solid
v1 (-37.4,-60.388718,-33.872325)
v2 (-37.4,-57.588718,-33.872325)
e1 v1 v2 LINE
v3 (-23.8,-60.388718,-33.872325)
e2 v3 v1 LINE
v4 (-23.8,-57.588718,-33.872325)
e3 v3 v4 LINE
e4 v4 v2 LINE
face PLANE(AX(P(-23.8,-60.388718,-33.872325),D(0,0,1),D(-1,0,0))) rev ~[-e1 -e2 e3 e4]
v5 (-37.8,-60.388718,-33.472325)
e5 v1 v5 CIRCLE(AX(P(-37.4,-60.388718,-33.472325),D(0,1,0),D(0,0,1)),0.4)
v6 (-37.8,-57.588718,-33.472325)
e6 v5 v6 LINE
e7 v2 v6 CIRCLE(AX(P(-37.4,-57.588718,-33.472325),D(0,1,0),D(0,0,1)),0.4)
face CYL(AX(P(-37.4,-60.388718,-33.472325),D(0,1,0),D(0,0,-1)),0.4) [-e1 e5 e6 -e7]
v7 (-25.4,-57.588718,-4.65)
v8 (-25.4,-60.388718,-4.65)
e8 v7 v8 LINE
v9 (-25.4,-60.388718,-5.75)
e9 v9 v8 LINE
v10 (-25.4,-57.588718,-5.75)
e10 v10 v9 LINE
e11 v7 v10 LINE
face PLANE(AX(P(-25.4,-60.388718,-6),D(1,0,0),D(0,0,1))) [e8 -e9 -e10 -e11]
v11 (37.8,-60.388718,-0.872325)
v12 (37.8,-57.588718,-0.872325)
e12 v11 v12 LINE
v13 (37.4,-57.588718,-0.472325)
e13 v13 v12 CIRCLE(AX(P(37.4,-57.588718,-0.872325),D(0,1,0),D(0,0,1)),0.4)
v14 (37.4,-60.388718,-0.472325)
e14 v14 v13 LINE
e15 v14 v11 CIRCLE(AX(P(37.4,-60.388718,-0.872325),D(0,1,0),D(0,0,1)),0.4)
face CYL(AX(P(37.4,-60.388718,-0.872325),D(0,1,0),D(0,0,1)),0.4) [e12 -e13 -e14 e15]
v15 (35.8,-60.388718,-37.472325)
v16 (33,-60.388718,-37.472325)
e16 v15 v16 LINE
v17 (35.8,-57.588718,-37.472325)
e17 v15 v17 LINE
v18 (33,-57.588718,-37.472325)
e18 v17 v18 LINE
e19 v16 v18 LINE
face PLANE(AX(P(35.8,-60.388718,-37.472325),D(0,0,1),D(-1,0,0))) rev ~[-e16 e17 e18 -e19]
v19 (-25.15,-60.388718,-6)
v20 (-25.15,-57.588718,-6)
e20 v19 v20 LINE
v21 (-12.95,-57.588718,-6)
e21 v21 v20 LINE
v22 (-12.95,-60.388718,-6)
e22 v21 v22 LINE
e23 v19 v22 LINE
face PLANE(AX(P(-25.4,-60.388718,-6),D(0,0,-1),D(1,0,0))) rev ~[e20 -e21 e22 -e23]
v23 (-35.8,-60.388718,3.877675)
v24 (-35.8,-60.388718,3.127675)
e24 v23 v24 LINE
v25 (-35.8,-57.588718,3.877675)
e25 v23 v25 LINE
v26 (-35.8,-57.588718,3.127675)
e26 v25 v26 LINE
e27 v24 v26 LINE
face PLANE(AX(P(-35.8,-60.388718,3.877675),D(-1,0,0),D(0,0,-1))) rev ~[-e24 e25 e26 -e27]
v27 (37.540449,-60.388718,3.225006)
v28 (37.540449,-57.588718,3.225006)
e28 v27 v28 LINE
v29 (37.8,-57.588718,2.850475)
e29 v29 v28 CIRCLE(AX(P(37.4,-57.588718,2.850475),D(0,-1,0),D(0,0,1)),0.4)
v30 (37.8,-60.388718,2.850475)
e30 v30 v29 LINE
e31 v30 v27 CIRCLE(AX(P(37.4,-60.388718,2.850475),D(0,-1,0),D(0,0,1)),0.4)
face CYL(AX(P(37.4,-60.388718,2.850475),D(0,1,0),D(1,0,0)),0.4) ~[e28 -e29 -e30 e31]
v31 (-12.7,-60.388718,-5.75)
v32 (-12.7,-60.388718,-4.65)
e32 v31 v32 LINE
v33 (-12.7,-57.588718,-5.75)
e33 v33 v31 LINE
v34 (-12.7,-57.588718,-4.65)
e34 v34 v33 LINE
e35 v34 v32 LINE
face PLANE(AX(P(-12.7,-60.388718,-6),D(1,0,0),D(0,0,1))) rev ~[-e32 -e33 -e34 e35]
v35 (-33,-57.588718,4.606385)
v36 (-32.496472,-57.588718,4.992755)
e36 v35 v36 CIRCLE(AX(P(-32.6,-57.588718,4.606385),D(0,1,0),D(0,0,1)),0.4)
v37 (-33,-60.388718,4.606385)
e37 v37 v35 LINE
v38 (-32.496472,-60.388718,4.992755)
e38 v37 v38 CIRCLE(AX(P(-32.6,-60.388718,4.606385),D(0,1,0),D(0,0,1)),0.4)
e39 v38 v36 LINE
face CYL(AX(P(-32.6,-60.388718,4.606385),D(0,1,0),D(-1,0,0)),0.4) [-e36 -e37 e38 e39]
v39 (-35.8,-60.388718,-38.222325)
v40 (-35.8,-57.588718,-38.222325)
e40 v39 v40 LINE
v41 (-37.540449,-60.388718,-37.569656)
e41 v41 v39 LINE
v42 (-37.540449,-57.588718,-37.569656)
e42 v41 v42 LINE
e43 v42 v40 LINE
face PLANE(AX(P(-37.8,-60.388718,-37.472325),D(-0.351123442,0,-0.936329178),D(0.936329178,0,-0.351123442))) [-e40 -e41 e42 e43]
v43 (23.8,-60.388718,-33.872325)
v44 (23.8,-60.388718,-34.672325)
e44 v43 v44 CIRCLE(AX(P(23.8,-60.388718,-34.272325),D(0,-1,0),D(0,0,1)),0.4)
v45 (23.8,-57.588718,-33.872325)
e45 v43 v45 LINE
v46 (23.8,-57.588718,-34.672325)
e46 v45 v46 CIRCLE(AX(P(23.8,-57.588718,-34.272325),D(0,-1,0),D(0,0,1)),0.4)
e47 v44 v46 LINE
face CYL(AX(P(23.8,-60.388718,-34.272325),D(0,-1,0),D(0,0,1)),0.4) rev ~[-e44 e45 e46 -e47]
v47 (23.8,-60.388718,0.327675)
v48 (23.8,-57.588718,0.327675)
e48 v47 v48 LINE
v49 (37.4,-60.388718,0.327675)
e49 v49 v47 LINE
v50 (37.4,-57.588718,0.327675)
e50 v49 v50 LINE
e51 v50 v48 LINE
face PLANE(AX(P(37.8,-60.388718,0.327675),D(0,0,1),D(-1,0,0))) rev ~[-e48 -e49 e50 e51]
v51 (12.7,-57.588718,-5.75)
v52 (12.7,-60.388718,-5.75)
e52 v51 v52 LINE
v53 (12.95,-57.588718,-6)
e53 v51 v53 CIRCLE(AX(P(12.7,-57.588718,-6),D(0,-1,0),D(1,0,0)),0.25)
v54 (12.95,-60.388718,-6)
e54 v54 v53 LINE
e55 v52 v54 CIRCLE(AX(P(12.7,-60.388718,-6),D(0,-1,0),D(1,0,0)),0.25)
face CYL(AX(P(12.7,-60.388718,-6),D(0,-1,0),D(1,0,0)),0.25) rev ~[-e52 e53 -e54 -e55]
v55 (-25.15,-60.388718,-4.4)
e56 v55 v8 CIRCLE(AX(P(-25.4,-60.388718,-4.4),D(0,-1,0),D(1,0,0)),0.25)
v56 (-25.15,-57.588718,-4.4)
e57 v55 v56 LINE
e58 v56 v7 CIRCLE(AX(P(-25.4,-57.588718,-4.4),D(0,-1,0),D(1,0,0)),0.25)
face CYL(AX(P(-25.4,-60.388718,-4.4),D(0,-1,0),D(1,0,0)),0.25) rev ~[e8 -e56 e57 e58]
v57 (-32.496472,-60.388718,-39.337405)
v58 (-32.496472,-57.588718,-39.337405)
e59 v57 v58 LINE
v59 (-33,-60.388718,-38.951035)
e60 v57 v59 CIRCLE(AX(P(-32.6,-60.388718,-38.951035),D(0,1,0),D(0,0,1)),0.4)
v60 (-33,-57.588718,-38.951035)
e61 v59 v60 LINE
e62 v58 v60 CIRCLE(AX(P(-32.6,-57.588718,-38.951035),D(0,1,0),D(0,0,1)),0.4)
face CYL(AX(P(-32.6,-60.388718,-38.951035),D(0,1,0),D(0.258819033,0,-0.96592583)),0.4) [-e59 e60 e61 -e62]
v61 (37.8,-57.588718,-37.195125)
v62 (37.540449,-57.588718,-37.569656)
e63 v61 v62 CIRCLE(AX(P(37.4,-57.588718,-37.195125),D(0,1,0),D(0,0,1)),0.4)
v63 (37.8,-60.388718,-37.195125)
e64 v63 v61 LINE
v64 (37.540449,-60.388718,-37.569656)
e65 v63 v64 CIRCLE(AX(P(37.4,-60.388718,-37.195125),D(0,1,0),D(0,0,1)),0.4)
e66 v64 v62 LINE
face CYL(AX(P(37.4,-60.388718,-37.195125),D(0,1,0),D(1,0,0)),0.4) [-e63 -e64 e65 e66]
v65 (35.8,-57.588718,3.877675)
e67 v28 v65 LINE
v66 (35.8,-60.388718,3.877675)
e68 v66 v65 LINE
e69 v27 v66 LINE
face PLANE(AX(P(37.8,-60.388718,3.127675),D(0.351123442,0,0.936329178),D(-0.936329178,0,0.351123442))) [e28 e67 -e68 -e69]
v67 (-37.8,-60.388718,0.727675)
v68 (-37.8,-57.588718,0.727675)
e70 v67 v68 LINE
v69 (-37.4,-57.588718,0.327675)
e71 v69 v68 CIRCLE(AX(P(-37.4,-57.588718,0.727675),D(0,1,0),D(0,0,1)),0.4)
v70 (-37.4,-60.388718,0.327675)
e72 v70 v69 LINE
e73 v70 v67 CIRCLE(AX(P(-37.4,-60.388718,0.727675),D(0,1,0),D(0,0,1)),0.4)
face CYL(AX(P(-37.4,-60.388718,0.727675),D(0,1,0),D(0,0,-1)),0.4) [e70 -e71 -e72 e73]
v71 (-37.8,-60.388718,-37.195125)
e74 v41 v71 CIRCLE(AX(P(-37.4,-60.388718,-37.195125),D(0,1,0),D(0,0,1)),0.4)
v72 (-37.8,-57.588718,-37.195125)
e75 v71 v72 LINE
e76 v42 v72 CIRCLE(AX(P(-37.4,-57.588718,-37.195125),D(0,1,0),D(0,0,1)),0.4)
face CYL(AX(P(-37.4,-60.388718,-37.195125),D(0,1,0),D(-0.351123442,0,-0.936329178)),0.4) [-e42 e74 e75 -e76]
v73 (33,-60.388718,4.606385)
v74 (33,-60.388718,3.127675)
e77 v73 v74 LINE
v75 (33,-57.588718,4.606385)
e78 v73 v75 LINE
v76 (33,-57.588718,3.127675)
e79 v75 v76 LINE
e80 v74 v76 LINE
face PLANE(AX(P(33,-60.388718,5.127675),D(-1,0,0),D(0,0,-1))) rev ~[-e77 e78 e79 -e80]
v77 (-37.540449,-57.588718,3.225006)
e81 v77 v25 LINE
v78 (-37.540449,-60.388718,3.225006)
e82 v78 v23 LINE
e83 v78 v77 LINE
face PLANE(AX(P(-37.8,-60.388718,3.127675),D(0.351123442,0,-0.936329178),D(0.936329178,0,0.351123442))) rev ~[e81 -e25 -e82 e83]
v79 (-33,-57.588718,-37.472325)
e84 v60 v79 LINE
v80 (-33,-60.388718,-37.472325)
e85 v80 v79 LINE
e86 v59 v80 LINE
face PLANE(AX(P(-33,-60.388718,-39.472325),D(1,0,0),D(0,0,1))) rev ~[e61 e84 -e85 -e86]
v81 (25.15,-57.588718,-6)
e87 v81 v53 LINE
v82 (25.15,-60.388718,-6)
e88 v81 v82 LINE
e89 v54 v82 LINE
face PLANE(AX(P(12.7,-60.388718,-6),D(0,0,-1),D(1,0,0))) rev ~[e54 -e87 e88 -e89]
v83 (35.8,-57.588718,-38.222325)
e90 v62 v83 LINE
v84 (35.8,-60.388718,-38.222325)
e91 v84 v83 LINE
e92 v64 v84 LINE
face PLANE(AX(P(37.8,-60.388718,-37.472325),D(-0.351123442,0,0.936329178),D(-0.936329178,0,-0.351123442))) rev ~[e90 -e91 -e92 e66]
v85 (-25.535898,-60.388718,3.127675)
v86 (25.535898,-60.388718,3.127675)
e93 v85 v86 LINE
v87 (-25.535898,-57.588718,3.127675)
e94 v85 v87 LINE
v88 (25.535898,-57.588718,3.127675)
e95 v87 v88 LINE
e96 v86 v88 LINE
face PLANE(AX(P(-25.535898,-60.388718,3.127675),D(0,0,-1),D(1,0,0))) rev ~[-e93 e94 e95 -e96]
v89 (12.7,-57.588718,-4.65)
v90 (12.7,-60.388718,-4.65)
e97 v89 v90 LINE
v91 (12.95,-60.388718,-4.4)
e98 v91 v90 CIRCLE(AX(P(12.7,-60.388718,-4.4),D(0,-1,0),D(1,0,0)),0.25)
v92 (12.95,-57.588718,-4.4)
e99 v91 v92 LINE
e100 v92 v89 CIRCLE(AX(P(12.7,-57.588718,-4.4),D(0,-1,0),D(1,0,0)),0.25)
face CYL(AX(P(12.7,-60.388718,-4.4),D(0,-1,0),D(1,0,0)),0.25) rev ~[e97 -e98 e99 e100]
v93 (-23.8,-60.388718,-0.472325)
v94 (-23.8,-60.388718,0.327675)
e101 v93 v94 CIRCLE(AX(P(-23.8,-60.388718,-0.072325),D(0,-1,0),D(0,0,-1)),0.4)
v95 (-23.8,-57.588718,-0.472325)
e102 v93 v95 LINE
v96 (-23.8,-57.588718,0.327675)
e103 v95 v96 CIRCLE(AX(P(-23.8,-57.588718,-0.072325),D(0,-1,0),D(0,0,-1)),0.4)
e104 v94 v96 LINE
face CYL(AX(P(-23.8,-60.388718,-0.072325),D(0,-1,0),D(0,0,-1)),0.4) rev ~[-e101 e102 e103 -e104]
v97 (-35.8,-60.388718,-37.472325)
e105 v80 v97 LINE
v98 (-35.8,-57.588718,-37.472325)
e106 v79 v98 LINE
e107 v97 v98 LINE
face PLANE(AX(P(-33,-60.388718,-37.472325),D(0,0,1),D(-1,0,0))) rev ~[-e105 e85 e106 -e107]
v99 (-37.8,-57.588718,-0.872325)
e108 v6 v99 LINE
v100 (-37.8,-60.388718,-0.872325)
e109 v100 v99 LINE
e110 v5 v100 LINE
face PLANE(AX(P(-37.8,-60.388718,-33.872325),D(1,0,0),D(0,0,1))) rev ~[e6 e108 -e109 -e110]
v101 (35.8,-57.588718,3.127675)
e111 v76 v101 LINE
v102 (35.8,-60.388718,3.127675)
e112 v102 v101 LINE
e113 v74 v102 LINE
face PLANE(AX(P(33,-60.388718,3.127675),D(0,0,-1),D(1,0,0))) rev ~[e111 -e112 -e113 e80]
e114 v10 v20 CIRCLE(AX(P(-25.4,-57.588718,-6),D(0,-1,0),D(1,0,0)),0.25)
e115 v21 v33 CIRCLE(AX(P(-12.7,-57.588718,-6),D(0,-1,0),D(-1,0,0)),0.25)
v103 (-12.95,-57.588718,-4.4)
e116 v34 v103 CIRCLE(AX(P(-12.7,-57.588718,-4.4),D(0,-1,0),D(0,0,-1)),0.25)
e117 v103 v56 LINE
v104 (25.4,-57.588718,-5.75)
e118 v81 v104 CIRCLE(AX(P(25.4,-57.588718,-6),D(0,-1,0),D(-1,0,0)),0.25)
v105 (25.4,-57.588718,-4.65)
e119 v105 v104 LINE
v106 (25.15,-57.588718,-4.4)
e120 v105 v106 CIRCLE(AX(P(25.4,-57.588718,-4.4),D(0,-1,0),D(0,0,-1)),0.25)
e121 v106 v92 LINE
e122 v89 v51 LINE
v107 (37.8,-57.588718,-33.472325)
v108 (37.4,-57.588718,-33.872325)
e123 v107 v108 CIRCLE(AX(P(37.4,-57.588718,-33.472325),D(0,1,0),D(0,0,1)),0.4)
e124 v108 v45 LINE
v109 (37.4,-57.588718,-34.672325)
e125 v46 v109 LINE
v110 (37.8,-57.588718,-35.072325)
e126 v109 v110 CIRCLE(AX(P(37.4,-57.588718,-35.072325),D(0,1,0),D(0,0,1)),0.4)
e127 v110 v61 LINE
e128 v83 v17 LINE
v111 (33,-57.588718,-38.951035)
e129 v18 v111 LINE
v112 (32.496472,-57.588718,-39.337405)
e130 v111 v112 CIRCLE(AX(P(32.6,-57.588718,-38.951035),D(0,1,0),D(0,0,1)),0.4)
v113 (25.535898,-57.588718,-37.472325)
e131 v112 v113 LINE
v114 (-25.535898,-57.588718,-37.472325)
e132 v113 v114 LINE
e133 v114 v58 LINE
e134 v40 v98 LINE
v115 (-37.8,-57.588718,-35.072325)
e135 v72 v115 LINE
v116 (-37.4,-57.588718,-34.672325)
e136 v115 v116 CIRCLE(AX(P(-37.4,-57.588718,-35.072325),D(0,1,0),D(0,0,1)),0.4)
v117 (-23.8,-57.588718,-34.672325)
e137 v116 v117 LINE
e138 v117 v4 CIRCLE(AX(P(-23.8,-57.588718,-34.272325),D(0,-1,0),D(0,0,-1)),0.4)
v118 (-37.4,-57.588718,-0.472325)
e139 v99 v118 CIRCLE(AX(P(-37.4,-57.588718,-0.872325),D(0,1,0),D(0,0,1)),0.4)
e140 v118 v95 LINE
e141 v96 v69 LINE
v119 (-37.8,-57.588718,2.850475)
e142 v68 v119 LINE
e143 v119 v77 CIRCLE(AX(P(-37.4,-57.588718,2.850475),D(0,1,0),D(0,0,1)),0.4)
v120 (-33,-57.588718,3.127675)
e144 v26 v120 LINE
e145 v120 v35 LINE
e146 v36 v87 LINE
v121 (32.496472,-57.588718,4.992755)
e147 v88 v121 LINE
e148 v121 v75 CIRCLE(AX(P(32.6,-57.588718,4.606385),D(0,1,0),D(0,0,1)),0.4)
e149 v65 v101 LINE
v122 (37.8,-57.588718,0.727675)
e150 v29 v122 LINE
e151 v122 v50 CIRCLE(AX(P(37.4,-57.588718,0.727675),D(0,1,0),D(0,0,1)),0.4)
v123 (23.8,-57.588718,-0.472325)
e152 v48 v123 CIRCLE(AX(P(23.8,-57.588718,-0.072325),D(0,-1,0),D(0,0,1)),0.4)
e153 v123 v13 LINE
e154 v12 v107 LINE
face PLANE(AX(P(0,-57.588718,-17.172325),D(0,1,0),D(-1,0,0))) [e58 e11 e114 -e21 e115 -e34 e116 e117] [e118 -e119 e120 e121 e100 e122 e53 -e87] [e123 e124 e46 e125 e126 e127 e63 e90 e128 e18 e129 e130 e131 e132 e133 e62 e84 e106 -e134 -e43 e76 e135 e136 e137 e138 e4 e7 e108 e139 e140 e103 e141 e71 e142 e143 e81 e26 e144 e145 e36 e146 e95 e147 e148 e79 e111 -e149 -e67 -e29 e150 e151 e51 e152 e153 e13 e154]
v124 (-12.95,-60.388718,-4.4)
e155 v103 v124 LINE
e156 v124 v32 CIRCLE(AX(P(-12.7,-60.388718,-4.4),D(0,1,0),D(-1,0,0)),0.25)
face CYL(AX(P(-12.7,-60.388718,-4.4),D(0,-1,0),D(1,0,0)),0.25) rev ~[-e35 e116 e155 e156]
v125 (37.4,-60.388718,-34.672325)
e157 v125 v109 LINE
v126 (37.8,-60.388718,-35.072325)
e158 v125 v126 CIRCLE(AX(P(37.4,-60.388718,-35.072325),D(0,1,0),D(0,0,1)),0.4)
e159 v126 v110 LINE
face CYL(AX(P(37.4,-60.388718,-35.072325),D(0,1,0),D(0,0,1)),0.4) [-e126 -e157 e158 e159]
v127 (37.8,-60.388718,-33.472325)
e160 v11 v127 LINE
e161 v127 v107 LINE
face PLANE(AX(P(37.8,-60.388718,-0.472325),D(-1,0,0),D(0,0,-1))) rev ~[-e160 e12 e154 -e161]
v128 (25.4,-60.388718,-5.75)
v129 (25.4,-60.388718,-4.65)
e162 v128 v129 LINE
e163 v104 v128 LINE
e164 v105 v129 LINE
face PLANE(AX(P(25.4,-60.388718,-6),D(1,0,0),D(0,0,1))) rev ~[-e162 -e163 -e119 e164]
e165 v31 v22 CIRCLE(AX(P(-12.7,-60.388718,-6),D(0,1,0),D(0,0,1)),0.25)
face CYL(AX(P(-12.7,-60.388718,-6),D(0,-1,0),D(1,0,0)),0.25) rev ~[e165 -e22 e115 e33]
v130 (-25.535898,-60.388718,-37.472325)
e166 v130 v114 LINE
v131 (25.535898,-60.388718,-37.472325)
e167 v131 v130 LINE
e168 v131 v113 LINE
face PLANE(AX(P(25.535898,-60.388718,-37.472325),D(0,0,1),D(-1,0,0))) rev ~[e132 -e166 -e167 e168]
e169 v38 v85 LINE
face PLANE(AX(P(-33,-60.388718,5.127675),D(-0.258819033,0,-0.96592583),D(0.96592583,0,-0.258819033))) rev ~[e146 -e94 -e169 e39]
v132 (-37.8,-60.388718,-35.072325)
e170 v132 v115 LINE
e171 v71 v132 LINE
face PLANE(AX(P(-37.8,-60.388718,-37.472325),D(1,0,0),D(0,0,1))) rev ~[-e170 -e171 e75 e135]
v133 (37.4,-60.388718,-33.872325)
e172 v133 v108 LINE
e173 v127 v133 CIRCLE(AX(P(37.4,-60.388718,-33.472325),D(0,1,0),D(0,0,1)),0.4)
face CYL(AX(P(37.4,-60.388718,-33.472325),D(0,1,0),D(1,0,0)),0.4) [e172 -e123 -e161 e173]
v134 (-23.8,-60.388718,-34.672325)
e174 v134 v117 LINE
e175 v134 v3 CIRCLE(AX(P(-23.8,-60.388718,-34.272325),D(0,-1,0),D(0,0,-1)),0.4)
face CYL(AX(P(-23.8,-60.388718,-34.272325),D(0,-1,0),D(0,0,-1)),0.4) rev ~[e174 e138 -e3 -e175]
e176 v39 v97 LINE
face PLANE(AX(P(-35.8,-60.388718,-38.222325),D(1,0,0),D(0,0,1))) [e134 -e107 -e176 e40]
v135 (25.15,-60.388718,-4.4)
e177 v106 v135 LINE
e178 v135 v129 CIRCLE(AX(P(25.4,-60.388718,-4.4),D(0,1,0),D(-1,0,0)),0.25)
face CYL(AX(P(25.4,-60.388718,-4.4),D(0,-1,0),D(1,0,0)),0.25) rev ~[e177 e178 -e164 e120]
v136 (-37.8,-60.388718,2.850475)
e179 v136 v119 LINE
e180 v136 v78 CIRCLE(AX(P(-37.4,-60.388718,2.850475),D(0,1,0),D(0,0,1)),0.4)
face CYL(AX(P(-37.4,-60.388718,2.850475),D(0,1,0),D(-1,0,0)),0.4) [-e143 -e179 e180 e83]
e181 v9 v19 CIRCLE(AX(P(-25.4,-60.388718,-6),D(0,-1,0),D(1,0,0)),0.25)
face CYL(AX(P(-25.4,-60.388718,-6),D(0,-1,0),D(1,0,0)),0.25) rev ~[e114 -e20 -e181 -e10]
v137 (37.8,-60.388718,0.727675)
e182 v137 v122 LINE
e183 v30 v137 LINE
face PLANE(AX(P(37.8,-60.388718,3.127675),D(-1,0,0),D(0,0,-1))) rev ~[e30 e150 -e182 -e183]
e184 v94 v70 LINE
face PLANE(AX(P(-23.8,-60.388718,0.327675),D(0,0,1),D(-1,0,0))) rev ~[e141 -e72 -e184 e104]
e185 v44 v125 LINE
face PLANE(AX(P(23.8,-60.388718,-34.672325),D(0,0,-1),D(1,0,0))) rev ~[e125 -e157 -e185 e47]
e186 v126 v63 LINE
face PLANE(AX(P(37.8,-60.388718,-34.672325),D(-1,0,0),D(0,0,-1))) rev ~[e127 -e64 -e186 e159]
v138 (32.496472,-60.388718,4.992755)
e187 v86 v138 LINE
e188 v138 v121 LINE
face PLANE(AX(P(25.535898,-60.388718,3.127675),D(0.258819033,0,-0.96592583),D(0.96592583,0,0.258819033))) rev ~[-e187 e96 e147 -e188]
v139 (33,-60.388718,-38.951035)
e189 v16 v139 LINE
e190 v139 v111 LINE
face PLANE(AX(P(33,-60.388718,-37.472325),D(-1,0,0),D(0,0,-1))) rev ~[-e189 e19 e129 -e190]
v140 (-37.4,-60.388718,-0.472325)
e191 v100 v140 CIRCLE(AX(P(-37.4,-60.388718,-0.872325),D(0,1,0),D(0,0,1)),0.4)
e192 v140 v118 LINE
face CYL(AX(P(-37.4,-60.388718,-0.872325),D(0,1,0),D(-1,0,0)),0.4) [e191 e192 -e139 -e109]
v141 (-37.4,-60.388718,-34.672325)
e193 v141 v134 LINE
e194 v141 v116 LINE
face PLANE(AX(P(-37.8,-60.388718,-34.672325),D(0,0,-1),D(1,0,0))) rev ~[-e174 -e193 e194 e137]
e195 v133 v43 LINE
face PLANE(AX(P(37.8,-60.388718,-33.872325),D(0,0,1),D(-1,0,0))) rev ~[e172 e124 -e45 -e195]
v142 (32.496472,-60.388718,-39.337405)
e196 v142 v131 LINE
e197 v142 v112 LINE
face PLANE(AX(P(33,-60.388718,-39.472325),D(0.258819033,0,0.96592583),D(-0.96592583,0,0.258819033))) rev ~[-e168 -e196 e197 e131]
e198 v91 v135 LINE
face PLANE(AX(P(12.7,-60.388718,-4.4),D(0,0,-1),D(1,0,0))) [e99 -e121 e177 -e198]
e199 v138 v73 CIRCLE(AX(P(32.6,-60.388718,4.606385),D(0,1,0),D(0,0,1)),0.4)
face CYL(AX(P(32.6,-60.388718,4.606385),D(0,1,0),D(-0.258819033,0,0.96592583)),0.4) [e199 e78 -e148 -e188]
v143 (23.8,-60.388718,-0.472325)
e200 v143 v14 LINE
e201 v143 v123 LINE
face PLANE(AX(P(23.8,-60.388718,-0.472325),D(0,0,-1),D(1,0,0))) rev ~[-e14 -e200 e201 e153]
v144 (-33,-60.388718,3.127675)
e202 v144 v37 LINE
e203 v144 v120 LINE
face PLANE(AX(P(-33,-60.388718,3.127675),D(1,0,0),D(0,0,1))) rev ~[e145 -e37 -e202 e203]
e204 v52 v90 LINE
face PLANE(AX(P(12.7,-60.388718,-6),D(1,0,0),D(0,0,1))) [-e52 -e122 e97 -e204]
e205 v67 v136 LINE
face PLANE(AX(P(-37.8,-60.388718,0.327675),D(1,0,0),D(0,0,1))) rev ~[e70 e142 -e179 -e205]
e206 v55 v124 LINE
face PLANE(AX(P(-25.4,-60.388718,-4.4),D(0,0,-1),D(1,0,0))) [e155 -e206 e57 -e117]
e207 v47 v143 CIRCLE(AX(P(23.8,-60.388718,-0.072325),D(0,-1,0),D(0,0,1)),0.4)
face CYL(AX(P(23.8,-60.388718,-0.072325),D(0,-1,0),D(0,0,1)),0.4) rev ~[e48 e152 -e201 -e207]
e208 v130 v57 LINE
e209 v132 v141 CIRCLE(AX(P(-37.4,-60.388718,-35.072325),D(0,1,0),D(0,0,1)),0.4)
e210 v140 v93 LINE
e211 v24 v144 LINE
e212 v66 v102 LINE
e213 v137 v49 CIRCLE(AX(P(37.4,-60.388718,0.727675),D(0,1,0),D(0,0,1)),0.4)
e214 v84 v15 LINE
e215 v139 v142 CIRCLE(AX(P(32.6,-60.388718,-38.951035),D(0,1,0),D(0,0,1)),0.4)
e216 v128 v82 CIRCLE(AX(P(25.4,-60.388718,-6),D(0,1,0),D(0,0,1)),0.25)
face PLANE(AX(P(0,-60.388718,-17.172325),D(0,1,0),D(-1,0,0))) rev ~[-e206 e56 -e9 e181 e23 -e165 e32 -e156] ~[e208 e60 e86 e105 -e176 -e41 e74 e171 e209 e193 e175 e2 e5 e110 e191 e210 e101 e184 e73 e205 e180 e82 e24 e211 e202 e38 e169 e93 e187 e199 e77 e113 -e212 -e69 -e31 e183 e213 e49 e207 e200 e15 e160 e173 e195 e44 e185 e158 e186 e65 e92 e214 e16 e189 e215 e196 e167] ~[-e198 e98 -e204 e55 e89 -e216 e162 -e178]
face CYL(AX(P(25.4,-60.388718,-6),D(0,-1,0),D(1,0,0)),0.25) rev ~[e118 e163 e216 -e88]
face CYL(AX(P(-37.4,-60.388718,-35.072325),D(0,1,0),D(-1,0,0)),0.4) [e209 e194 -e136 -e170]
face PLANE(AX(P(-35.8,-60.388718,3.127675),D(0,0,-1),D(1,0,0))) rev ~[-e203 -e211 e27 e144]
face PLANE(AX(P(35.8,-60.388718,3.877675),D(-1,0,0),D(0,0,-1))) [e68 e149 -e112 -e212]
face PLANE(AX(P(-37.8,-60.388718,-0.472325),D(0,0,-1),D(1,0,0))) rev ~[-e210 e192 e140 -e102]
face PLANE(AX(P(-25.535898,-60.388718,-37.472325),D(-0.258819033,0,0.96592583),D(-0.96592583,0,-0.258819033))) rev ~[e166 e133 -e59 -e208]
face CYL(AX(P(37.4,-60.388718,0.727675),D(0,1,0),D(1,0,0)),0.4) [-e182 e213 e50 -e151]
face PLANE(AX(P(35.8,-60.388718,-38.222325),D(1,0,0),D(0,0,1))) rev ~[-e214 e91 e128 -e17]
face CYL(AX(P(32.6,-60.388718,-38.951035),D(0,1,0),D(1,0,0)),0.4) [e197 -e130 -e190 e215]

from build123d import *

# Parameters (mm, degrees)
PAD009_DEPTH    = 2.8
FILLET004_R     = 0.4
SKETCH025_W     = 12.7
SKETCH025_H     = 1.6
POCKET014_DEPTH = 2.801
SKETCH026_R     = 0.25
POCKET015_DEPTH = 2.801


with BuildPart() as part:
    # Sketch009 (on Face6 of ShapeBinder008) → Pad009 (new body)
    with BuildSketch(Plane.XZ.offset(60.388718)):
        with BuildLine():
            Line((37.8, 3.127675), (37.8, 0.327675))
            Line((37.8, 0.327675), (23.8, 0.327675))
            ThreePointArc((23.8, 0.327675), (23.4, -0.072325), (23.8, -0.472325))
            Line((23.8, -0.472325), (37.8, -0.472325))
            Line((37.8, -0.472325), (37.8, -33.872325))
            Line((37.8, -33.872325), (23.8, -33.872325))
            ThreePointArc((23.8, -33.872325), (23.4, -34.272325), (23.8, -34.672325))
            Line((23.8, -34.672325), (37.8, -34.672325))
            Line((37.8, -34.672325), (37.8, -37.472325))
            Line((37.8, -37.472325), (35.8, -38.222325))
            Line((35.8, -38.222325), (35.8, -37.472325))
            Line((35.8, -37.472325), (33, -37.472325))
            Line((33, -37.472325), (33, -39.472325))
            Line((33, -39.472325), (25.535898, -37.472325))
            Line((25.535898, -37.472325), (-25.535898, -37.472325))
            Line((-25.535898, -37.472325), (-33, -39.472325))
            Line((-33, -39.472325), (-33, -37.472325))
            Line((-33, -37.472325), (-35.8, -37.472325))
            Line((-35.8, -38.222325), (-35.8, -37.472325))
            Line((-37.8, -37.472325), (-35.8, -38.222325))
            Line((-37.8, -37.472325), (-37.8, -34.672325))
            Line((-37.8, -34.672325), (-23.8, -34.672325))
            ThreePointArc((-23.8, -34.672325), (-23.4, -34.272325), (-23.8, -33.872325))
            Line((-23.8, -33.872325), (-37.8, -33.872325))
            Line((-37.8, -33.872325), (-37.8, -0.472325))
            Line((-37.8, -0.472325), (-23.8, -0.472325))
            ThreePointArc((-23.8, -0.472325), (-23.4, -0.072325), (-23.8, 0.327675))
            Line((-23.8, 0.327675), (-37.8, 0.327675))
            Line((-37.8, 0.327675), (-37.8, 3.127675))
            Line((-37.8, 3.127675), (-35.8, 3.877675))
            Line((-35.8, 3.877675), (-35.8, 3.127675))
            Line((-35.8, 3.127675), (-33, 3.127675))
            Line((-33, 3.127675), (-33, 5.127675))
            Line((-33, 5.127675), (-25.535898, 3.127675))
            Line((-25.535898, 3.127675), (25.535898, 3.127675))
            Line((25.535898, 3.127675), (33, 5.127675))
            Line((33, 5.127675), (33, 3.127675))
            Line((33, 3.127675), (35.8, 3.127675))
            Line((35.8, 3.877675), (35.8, 3.127675))
            Line((37.8, 3.127675), (35.8, 3.877675))
        make_face()
    extrude(amount=-PAD009_DEPTH)

    # Fillet004
    fillet004_edges = [part.edges().sort_by_distance(p)[0] for p in [
        (33, -58.988718, 5.127675),
        (37.8, -58.988718, 3.127675),
        (37.8, -58.988718, 0.327675),
        (37.8, -58.988718, -0.472325),
        (37.8, -58.988718, -33.872325),
        (37.8, -58.988718, -34.672325),
        (37.8, -58.988718, -37.472325),
        (33, -58.988718, -39.472325),
        (-37.8, -58.988718, -33.872325),
        (-37.8, -58.988718, -34.672325),
        (-37.8, -58.988718, -37.472325),
        (-33, -58.988718, -39.472325),
        (-33, -58.988718, 5.127675),
        (-37.8, -58.988718, 3.127675),
        (-37.8, -58.988718, 0.327675),
        (-37.8, -58.988718, -0.472325),
    ]]
    fillet(fillet004_edges, radius=FILLET004_R)

    # Sketch025 (on Face2 of Fillet004) → Pocket014 (cut, through all)
    with BuildSketch(Plane.XZ.offset(60.388718)):
        with Locations((-19.05, -5.2)):
            Rectangle(SKETCH025_W, SKETCH025_H)
        with Locations((19.05, -5.2)):
            Rectangle(SKETCH025_W, SKETCH025_H)
    extrude(amount=-POCKET014_DEPTH, mode=Mode.SUBTRACT)

    # Sketch026 (on Face2 of Pocket014) → Pocket015 (cut, through all)
    with BuildSketch(Plane.XZ.offset(60.388718)):
        with Locations((-25.4, -4.4)):
            Circle(SKETCH026_R)
        with Locations((-12.7, -4.4)):
            Circle(SKETCH026_R)
        with Locations((-12.7, -6)):
            Circle(SKETCH026_R)
        with Locations((-25.4, -6)):
            Circle(SKETCH026_R)
        with Locations((12.7, -4.4)):
            Circle(SKETCH026_R)
        with Locations((12.7, -6)):
            Circle(SKETCH026_R)
        with Locations((25.4, -4.4)):
            Circle(SKETCH026_R)
        with Locations((25.4, -6)):
            Circle(SKETCH026_R)
    extrude(amount=-POCKET015_DEPTH, mode=Mode.SUBTRACT)


solid = part.part
